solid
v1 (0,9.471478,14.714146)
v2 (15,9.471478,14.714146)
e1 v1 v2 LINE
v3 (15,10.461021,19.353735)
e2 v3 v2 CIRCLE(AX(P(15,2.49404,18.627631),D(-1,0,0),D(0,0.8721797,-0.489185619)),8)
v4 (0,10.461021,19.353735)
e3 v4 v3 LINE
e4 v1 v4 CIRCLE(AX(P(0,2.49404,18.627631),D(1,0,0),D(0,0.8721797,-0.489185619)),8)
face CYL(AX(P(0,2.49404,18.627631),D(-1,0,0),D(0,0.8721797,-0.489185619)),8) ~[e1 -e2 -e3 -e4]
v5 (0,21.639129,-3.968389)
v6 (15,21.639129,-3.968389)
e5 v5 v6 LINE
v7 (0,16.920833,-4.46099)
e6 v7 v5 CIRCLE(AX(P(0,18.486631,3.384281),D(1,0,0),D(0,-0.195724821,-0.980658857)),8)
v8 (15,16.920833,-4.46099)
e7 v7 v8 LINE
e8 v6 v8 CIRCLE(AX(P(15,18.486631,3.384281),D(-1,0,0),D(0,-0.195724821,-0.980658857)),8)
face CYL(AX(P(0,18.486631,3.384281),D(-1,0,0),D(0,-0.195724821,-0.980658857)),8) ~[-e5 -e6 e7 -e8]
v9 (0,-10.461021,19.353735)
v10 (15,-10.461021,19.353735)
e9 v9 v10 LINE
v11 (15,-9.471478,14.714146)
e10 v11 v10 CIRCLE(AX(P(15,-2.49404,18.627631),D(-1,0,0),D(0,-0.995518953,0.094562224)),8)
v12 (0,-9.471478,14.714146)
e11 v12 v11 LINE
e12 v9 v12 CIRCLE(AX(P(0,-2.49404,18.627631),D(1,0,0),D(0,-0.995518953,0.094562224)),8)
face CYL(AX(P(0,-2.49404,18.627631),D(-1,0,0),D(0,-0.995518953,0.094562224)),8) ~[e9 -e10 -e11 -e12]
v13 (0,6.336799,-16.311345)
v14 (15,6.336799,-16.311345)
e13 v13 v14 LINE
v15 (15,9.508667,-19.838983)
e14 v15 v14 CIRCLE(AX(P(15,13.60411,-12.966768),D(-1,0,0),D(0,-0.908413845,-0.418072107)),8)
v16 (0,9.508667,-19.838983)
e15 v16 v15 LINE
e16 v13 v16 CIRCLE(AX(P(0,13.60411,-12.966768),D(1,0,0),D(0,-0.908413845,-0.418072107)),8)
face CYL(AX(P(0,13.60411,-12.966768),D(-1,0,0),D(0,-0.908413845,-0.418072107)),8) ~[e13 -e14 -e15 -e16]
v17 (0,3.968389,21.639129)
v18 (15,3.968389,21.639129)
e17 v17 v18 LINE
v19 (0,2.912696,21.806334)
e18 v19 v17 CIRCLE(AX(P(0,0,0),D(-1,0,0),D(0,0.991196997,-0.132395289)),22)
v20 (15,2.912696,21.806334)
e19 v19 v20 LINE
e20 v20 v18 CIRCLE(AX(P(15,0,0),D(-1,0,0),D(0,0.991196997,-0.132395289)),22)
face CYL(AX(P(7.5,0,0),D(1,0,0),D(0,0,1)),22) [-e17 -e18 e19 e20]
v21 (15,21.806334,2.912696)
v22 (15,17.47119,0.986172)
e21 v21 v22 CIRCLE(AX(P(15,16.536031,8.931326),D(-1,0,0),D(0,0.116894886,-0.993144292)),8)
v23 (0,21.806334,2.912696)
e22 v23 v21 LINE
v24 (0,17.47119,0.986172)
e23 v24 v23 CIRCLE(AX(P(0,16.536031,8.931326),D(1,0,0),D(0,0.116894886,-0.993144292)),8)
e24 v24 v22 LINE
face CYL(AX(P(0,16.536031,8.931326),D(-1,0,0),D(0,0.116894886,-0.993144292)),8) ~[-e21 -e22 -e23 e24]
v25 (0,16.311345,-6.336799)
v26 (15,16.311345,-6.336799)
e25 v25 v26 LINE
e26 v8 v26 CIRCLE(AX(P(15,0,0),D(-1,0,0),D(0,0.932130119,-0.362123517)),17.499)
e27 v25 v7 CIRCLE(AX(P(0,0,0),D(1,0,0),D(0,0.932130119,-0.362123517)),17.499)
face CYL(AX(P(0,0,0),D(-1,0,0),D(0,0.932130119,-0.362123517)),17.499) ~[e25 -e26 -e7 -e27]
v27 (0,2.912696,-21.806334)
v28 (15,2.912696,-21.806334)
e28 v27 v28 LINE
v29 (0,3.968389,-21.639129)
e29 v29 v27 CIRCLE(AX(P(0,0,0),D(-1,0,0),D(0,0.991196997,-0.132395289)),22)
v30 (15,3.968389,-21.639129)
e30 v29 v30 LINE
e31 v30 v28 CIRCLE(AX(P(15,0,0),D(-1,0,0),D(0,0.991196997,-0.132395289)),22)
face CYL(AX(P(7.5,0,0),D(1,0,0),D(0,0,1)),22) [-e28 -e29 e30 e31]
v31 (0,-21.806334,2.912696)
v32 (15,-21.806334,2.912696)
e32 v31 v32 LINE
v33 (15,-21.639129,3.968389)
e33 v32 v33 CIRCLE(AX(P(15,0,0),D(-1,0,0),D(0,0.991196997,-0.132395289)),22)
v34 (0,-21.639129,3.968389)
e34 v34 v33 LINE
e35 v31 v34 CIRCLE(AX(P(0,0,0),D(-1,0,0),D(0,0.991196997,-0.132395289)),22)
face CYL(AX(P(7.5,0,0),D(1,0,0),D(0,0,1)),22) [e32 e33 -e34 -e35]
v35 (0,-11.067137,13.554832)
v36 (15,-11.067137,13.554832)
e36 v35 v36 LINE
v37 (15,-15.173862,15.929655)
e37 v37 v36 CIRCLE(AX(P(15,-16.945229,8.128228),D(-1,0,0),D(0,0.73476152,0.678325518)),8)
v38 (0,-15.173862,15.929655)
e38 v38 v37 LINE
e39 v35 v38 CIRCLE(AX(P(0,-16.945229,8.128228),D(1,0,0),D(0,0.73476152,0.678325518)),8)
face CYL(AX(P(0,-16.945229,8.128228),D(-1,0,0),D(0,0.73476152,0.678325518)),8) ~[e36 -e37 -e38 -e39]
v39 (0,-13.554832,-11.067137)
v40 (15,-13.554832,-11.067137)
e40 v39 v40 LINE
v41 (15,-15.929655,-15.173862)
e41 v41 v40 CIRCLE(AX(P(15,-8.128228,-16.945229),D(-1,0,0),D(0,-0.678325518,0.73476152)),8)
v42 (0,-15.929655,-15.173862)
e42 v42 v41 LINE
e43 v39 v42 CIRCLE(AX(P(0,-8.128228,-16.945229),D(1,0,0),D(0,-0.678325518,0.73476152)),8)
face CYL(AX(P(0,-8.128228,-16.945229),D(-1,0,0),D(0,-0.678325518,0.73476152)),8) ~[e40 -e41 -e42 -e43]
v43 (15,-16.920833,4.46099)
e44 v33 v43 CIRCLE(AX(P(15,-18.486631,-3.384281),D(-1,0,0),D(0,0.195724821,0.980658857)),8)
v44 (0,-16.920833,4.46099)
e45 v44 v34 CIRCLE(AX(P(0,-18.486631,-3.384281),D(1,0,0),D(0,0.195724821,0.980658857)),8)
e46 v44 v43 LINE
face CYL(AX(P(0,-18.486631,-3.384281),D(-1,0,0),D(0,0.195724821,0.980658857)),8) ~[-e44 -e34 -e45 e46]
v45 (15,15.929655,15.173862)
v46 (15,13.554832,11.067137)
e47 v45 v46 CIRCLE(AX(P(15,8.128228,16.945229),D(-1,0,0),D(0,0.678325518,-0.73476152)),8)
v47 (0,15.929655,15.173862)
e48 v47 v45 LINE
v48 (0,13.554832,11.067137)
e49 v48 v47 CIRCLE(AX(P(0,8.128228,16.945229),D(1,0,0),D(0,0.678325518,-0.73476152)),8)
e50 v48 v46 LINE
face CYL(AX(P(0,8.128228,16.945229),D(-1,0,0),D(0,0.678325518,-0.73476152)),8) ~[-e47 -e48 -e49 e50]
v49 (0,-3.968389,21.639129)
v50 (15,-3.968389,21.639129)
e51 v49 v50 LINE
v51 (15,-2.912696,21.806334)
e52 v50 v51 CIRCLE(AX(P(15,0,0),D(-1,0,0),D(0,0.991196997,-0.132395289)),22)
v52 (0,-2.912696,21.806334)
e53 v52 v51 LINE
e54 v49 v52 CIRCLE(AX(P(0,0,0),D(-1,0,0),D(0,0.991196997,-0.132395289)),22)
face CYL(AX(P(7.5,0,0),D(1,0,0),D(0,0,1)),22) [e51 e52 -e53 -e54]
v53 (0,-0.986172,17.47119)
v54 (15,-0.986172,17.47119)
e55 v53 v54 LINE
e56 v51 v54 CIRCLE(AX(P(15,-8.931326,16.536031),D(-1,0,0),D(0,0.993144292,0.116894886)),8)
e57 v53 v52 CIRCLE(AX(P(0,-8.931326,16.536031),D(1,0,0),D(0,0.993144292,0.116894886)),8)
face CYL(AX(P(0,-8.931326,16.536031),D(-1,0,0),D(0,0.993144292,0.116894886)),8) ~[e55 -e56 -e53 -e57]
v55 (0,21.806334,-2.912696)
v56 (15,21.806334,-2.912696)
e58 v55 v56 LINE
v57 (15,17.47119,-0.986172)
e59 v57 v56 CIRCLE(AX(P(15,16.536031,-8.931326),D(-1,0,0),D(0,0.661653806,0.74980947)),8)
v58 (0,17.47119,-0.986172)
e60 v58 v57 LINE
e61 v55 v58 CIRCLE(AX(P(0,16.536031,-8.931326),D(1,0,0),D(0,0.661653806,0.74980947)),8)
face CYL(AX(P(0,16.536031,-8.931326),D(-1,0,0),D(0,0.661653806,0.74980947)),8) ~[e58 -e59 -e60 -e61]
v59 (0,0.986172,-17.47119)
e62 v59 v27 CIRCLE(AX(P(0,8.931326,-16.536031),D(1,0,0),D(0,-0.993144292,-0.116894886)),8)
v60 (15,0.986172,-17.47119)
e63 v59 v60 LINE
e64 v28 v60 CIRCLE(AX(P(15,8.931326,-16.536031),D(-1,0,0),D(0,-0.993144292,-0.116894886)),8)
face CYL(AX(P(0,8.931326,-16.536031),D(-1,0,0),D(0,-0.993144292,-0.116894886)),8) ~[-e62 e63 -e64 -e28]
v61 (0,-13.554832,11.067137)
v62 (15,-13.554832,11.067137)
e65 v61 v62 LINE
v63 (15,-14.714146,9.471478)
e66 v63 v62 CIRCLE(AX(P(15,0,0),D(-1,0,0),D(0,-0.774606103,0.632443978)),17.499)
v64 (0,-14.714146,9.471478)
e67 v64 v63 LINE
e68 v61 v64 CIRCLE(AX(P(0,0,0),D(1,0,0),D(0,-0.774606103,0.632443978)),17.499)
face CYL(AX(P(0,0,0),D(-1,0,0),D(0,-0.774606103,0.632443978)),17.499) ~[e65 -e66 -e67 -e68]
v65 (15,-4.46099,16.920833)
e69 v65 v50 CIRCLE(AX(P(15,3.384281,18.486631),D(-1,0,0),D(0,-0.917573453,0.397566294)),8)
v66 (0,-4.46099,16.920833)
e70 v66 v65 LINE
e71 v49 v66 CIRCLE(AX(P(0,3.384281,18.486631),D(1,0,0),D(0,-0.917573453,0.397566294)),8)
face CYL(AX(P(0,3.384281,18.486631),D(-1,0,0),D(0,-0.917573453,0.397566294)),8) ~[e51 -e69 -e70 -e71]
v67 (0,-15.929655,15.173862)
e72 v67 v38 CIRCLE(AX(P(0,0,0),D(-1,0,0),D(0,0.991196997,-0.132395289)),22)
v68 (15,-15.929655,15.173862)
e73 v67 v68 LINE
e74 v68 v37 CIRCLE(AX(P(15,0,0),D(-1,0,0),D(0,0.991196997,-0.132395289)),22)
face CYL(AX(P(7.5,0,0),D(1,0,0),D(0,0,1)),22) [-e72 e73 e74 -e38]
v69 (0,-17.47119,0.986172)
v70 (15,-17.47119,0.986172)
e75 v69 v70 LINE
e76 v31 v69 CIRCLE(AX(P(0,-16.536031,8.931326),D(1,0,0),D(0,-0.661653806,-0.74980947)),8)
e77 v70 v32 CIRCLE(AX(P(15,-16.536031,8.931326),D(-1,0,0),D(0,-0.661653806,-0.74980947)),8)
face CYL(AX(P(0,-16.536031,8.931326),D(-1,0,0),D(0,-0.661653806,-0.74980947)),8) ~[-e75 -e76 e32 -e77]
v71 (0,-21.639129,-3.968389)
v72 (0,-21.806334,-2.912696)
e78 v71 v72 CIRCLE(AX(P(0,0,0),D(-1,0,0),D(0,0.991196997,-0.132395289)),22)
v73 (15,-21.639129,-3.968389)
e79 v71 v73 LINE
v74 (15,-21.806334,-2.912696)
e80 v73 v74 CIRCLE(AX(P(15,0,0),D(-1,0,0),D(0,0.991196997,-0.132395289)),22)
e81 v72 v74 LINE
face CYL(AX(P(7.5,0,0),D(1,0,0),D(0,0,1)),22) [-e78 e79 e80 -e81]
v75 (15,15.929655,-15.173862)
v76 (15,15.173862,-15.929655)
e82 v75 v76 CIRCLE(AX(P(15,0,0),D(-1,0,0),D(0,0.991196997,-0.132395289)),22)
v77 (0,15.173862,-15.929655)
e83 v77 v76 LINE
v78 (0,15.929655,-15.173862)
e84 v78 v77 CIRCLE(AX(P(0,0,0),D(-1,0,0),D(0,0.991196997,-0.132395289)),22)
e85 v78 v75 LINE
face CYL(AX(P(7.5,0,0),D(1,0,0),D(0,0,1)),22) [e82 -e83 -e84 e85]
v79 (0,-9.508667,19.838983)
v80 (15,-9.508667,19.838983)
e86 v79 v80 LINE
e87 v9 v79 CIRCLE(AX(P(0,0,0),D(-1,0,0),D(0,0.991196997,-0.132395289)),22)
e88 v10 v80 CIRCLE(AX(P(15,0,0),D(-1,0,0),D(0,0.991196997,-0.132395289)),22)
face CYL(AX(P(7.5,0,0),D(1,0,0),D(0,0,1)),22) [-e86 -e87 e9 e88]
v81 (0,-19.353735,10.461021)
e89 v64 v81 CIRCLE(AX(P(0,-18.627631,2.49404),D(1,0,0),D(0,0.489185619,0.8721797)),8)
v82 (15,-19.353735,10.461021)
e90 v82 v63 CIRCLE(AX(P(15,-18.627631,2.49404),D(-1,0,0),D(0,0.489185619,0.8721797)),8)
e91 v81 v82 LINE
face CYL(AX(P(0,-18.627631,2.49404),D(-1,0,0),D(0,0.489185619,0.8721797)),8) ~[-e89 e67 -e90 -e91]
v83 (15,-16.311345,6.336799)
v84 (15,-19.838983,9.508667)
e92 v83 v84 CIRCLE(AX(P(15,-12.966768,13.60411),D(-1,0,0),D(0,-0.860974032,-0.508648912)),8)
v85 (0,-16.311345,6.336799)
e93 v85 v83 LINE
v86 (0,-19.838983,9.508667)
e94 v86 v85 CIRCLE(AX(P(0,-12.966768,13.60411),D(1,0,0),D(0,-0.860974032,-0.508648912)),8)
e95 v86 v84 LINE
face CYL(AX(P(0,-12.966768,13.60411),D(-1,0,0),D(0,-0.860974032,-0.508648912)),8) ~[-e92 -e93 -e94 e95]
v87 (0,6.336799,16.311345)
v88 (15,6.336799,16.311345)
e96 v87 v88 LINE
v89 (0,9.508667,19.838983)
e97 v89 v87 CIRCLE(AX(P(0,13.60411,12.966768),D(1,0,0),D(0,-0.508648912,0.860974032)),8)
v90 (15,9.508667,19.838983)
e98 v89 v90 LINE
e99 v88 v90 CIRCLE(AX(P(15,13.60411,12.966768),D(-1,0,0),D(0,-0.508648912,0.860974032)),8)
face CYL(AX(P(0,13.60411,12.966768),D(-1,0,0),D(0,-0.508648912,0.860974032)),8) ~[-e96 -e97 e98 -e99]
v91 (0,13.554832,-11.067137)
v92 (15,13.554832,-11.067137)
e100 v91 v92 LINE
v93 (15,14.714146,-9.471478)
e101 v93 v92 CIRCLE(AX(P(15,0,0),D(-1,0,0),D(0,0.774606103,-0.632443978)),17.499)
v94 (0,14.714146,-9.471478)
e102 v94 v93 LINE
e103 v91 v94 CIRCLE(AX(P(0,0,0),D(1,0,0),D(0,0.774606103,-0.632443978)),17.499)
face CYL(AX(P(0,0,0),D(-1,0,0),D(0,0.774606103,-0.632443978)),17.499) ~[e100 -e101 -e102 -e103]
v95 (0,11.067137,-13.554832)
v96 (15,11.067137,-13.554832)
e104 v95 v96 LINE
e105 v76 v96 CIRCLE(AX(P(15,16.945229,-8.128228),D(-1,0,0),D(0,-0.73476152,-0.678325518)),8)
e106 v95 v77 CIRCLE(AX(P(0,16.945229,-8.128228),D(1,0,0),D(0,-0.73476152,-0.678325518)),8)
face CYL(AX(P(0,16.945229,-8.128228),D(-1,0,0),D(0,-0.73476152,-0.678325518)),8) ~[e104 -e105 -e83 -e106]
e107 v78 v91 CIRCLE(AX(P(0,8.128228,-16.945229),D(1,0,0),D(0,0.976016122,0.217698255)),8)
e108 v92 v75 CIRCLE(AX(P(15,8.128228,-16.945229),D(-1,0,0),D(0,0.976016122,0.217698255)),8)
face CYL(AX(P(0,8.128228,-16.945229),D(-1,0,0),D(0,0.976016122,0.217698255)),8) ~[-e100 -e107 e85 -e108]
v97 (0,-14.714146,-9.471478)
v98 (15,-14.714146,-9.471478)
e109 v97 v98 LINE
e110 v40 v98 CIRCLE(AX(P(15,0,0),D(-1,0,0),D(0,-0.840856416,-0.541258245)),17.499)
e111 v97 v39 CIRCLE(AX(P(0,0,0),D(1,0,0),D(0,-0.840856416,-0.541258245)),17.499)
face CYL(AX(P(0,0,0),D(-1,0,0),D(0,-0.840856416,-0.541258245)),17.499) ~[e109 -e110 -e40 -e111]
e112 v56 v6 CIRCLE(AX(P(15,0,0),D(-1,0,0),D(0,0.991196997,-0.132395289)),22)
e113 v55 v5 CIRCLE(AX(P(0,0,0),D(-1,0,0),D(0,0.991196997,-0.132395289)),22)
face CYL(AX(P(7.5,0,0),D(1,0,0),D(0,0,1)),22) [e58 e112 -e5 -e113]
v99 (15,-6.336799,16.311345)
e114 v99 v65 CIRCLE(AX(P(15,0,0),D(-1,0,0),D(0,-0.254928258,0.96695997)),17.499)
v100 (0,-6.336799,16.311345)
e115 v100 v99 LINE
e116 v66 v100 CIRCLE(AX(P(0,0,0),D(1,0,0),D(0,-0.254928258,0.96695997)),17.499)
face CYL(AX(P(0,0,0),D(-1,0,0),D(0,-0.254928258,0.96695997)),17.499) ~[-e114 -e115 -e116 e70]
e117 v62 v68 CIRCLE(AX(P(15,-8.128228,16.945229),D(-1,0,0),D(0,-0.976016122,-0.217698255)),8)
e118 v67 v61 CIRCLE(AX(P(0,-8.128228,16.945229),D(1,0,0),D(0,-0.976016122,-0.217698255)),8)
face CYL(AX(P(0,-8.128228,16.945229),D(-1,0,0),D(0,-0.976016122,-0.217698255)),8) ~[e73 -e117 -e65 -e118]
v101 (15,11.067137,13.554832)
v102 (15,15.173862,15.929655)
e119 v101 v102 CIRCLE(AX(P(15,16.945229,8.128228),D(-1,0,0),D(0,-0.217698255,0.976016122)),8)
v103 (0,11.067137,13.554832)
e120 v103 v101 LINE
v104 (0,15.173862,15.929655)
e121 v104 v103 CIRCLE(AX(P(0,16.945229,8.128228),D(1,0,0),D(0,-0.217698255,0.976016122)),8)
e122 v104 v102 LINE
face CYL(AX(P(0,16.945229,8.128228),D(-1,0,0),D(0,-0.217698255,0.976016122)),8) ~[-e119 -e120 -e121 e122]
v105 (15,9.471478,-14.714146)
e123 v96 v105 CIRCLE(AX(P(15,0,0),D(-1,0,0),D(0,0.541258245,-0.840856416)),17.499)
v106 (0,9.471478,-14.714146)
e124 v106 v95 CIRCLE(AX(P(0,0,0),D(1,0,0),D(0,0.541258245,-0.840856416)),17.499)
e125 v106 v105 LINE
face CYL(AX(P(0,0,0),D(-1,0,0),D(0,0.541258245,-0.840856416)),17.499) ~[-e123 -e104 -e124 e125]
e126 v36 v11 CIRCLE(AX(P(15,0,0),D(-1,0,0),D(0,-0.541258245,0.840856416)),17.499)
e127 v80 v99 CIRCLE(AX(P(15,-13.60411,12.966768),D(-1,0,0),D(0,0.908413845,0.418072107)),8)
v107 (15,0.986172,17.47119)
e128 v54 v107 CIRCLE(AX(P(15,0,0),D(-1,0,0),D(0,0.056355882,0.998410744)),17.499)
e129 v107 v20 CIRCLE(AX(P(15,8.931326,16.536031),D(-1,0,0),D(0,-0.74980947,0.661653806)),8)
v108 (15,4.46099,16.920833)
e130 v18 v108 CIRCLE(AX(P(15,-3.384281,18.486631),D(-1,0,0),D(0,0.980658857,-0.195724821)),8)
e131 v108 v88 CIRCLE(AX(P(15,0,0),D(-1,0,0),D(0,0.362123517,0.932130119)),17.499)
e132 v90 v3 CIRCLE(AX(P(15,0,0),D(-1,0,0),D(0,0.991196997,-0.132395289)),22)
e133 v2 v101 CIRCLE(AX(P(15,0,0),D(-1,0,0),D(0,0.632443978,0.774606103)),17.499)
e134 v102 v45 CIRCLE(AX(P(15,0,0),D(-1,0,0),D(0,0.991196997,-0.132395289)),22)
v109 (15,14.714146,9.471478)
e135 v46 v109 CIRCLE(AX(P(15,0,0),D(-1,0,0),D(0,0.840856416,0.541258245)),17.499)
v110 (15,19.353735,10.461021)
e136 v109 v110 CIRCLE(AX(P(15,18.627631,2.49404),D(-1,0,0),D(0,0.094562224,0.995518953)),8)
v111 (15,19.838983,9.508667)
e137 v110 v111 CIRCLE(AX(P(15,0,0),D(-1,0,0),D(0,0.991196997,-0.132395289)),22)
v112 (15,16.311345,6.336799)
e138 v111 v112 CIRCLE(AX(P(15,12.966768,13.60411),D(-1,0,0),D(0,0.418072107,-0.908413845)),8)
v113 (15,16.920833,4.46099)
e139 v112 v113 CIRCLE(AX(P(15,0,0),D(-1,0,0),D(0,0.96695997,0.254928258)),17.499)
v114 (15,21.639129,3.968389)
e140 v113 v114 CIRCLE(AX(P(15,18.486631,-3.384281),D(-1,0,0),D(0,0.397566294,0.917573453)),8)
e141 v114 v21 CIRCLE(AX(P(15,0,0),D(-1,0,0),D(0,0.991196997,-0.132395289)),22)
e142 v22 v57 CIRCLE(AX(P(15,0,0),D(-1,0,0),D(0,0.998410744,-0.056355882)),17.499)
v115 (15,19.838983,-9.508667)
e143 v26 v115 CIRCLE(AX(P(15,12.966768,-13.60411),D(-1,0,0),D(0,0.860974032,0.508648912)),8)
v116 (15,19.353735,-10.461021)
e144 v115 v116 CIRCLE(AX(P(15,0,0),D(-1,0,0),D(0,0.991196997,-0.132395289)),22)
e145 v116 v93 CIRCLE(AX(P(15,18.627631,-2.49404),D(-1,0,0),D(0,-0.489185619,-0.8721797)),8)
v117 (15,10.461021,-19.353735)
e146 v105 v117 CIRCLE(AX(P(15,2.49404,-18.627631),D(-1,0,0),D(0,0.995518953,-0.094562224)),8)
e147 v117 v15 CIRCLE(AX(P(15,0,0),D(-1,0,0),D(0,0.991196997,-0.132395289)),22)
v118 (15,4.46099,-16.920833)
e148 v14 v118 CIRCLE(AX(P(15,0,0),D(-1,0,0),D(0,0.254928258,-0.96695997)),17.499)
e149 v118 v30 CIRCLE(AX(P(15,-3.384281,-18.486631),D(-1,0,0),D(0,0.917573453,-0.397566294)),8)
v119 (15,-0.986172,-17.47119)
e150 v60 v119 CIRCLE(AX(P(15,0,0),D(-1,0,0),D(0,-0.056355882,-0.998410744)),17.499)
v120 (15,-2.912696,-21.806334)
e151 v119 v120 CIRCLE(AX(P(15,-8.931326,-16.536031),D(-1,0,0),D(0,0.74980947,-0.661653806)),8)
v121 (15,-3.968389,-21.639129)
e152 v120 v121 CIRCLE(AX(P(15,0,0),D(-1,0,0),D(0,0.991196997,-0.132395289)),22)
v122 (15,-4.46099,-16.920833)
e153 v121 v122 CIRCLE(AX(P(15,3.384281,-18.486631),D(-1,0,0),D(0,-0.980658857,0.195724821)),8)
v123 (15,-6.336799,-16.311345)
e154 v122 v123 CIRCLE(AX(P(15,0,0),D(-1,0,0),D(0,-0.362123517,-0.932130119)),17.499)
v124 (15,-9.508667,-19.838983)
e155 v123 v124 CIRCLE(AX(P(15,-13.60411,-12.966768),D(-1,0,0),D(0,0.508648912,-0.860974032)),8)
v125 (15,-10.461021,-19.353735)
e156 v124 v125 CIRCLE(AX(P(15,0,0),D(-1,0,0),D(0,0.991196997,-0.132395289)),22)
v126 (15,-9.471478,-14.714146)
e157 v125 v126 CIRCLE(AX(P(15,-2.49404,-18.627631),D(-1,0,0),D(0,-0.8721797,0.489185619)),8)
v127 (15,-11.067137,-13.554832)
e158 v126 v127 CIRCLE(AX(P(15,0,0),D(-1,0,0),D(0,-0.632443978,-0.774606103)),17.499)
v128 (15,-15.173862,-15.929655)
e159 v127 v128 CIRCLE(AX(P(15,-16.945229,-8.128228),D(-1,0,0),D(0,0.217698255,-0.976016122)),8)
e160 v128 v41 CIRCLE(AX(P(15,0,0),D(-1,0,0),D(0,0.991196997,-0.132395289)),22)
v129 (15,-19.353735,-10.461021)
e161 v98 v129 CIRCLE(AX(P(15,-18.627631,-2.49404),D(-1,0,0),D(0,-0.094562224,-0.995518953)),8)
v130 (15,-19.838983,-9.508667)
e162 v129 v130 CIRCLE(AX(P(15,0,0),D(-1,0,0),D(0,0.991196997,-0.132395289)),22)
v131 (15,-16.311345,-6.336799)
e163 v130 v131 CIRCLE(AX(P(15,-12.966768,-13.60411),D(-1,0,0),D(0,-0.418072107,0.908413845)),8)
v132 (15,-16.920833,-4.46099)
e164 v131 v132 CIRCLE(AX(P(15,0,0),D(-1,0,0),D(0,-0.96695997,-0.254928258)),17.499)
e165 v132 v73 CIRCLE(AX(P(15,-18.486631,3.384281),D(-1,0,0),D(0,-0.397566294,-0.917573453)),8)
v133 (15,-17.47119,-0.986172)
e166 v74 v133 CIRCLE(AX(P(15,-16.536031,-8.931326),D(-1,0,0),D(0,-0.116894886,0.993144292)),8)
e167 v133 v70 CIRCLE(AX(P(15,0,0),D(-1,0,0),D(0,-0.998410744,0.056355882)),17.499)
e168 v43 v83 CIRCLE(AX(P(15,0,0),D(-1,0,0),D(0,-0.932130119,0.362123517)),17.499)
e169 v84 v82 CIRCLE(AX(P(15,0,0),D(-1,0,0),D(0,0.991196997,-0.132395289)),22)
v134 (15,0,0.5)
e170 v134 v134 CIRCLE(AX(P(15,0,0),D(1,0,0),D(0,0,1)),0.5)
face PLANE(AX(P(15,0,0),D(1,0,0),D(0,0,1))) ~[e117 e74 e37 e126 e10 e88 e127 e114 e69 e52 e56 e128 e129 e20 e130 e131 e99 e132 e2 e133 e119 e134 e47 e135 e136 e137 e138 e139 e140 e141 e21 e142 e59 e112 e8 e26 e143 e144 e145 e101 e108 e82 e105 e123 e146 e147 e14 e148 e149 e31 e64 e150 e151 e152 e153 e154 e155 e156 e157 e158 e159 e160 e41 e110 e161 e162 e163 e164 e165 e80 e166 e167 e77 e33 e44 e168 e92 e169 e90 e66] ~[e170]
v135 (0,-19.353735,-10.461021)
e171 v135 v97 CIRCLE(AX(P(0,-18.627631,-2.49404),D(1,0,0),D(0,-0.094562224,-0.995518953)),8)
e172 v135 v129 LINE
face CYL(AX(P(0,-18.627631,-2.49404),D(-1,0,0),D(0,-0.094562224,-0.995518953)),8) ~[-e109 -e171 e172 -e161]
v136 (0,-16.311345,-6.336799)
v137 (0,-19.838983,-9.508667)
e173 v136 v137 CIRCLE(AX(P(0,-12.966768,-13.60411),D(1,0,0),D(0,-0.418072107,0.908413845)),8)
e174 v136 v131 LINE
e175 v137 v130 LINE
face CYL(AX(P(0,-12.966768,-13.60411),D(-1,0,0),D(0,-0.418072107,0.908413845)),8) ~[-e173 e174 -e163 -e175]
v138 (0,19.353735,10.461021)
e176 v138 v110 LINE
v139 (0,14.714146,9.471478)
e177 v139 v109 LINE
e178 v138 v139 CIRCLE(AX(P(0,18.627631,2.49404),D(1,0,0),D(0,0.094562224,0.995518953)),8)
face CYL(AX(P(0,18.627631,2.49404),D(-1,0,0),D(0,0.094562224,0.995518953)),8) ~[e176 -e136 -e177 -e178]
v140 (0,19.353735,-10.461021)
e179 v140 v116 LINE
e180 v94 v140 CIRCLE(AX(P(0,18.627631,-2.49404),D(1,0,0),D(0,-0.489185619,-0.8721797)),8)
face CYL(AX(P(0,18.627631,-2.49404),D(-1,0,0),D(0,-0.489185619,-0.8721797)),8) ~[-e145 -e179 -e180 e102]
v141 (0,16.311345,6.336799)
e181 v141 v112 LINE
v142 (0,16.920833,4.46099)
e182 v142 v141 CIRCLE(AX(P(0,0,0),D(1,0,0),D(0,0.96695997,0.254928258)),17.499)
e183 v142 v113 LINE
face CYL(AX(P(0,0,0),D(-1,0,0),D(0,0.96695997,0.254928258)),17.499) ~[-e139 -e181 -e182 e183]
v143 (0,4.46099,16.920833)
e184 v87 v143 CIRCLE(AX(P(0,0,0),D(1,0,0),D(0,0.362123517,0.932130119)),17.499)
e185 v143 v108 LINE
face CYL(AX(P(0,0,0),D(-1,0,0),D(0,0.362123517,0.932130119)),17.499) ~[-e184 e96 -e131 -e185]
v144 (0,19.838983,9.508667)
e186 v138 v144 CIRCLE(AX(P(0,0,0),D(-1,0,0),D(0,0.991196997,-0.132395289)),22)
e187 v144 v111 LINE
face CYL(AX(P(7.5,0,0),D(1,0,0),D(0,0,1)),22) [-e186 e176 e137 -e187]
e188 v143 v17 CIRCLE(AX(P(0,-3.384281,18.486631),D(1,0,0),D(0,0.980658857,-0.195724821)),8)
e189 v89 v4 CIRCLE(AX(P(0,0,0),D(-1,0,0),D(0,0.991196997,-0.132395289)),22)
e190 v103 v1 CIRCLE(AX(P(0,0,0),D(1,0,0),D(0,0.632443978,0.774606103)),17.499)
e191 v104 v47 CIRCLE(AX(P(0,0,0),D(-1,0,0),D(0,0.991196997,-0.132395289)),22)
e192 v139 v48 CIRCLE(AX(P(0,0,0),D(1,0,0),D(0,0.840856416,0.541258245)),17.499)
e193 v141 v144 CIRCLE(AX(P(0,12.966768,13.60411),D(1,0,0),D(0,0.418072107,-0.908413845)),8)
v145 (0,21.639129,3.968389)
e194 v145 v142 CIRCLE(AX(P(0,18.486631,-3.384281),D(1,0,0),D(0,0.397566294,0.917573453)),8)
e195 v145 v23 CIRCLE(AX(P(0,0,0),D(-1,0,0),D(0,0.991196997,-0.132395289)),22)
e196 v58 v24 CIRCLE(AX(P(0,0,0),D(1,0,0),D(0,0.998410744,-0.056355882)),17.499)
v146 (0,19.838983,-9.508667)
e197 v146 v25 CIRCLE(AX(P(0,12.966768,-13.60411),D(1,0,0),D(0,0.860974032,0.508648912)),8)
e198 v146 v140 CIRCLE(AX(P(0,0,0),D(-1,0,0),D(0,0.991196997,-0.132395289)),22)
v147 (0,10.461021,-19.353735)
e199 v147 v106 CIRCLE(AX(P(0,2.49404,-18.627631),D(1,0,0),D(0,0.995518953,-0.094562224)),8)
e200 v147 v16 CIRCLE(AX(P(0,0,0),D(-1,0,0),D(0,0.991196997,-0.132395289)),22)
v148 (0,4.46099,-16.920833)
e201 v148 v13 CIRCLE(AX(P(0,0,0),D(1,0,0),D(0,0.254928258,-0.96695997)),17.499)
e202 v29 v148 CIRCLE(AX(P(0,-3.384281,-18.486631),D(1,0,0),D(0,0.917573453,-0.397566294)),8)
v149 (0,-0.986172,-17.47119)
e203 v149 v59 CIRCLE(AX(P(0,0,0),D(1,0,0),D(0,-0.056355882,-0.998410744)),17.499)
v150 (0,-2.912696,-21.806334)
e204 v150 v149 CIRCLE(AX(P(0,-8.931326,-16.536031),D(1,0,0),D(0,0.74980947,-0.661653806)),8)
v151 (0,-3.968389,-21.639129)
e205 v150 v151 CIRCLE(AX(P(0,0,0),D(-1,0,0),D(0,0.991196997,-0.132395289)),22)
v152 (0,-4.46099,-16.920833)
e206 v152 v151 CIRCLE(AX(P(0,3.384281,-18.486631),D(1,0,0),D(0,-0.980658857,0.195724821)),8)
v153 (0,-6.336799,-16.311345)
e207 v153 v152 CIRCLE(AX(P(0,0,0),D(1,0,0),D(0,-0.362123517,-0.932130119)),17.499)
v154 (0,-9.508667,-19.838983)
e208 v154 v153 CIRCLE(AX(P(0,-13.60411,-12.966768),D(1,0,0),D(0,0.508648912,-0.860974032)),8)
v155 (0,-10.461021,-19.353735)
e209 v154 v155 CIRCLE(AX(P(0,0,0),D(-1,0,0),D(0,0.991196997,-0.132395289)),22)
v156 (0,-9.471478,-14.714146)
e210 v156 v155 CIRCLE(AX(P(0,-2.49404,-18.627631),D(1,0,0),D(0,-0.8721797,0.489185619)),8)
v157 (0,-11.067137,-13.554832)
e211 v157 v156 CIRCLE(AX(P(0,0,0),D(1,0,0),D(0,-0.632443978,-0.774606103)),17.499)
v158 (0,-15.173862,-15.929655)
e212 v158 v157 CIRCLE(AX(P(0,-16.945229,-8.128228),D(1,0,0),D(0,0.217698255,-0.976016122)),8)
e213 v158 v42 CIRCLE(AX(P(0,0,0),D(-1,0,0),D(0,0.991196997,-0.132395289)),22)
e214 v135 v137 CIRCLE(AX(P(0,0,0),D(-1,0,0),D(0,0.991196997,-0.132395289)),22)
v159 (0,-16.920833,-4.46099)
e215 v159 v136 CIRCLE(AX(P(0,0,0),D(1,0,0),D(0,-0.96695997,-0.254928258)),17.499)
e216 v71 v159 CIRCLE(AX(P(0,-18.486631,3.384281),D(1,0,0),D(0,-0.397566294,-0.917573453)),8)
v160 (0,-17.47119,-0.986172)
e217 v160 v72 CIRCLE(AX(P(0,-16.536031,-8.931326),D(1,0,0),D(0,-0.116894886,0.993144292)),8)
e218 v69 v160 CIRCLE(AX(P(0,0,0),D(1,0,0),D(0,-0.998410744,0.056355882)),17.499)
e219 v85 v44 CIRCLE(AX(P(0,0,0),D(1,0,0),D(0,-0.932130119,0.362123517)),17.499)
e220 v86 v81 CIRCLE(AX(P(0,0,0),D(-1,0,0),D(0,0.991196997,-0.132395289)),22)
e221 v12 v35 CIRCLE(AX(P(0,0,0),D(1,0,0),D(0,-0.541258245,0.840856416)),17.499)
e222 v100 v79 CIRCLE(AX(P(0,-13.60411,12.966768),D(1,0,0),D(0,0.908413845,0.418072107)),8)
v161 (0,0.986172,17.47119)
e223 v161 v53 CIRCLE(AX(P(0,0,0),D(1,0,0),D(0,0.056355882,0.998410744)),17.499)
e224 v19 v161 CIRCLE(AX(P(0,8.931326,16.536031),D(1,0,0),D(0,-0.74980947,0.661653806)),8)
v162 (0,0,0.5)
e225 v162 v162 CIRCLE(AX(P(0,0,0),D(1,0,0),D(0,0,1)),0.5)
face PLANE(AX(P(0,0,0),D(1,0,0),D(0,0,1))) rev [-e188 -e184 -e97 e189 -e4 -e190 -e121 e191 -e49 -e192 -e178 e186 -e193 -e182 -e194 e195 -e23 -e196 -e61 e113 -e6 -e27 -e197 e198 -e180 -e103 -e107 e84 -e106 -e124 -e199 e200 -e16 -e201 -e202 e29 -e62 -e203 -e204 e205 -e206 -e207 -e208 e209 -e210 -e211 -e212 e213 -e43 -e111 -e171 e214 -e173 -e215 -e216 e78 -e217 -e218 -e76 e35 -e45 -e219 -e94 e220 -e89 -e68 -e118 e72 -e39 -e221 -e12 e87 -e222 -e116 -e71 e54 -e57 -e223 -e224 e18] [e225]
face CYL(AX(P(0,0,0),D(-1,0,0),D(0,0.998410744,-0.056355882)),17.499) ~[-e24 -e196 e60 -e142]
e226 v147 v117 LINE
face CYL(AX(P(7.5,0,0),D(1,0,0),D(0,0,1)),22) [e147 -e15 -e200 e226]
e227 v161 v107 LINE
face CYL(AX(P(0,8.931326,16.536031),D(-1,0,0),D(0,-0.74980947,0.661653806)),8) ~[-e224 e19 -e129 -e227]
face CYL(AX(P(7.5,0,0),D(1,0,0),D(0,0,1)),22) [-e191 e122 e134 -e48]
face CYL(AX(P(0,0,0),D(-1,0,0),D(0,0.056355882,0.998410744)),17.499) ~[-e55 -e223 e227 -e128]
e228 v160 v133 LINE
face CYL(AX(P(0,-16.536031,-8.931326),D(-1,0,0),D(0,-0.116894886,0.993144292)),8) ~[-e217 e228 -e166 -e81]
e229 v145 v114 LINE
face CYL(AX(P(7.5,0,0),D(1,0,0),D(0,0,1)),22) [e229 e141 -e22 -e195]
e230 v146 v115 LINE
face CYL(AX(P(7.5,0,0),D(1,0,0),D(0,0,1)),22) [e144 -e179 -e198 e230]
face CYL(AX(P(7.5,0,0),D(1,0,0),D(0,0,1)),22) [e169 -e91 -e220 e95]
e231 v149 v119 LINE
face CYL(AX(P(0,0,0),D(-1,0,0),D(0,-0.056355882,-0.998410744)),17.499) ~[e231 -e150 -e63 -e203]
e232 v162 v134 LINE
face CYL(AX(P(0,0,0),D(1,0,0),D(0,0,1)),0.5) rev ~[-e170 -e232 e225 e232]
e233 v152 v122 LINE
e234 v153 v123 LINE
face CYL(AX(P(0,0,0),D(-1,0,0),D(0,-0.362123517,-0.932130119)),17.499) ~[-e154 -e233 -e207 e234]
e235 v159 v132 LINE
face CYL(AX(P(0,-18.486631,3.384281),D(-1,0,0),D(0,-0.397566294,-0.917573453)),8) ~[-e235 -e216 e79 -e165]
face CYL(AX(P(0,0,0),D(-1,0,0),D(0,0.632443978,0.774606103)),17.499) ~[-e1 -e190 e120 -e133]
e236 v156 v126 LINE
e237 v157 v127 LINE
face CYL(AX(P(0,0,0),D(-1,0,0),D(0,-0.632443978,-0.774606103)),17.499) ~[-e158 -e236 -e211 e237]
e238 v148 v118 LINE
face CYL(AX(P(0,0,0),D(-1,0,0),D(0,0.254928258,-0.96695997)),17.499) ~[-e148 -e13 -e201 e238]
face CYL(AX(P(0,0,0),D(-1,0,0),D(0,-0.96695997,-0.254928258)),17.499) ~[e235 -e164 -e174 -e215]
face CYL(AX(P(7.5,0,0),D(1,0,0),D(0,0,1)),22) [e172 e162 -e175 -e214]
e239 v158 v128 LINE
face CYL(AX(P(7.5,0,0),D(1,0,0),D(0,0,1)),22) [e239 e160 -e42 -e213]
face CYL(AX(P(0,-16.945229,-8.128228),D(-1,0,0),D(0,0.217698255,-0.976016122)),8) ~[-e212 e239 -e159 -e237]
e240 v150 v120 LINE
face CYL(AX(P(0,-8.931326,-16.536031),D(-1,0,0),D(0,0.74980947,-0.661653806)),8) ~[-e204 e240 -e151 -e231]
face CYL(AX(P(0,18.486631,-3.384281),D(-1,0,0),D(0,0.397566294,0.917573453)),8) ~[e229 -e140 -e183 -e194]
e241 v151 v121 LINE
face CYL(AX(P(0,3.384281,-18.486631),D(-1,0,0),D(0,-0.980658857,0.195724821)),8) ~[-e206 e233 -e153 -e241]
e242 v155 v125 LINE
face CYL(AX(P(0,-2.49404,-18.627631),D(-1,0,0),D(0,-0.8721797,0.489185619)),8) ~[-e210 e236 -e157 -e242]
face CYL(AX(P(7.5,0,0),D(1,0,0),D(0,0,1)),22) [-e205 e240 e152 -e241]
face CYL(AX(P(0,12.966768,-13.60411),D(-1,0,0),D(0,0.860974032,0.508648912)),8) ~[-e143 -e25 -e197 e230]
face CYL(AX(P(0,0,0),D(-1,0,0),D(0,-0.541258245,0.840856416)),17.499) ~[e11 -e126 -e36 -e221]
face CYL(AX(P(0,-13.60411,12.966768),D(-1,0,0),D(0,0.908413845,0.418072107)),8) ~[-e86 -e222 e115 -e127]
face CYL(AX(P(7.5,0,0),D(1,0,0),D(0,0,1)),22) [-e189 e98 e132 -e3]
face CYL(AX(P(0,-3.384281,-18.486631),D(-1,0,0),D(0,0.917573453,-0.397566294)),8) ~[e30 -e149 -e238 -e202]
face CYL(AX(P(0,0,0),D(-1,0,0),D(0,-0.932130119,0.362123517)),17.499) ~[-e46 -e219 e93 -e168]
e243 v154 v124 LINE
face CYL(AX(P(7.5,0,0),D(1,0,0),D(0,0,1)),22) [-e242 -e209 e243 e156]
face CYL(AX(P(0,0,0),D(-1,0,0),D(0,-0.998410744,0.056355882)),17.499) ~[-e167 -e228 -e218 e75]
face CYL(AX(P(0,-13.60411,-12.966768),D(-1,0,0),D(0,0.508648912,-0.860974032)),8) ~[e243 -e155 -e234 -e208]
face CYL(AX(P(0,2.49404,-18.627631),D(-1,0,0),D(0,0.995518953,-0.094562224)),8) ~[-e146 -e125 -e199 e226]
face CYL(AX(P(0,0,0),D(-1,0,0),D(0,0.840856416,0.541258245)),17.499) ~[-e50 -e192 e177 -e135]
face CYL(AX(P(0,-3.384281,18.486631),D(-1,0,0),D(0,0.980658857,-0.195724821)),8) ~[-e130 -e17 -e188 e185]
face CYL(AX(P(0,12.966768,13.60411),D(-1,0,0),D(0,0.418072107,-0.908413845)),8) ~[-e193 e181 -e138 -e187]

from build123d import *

# Parameters (mm, degrees)
BASPROSKE_W     = 15
BASPROSKE_H     = 22
TOOTHCUT_DEPTH  = 35.539832078
TEETHCUTS_COUNT = 20
TEETHCUTS_ANGLE = 342
BORSKE_R        = 0.5
BORE_DEPTH      = 50.0000508


with BuildPart() as part:
    # BasProSke → Base-Revolve (revolve)
    with BuildSketch(Plane(origin=(0, 0, 0), x_dir=(1, 0, 0), z_dir=(0, 1, 0)), mode=Mode.PRIVATE) as base_revolve_sk:
        with Locations((7.5, 11)):
            Rectangle(BASPROSKE_W, BASPROSKE_H)
    revolve(base_revolve_sk.sketch.rotate(Axis((-10, 0, 0), (1, 0, 0)), 180), axis=Axis((-10, 0, 0), (1, 0, 0)))

    # TooCutSke → ToothCut (cut, through all)
    with BuildSketch(Plane(origin=(0, 0, 0), x_dir=(0, 0, -1), z_dir=(1, 0, 0))):
        with BuildLine():
            ThreePointArc((0.986171591, 17.471189616), (0, 17.499), (-0.986171591, 17.471189616))
            ThreePointArc((-0.986171591, 17.471189616), (-1.626916196, 19.798789858), (-2.932850173, 21.829260982))
            ThreePointArc((-2.932850173, 21.829260982), (0, 22.0254), (2.932850173, 21.829260982))
            ThreePointArc((2.932850173, 21.829260982), (1.626916196, 19.798789858), (0.986171591, 17.471189616))
        make_face()
    toothcut = extrude(amount=TOOTHCUT_DEPTH, mode=Mode.SUBTRACT)

    # TeethCuts: ToothCut ×20 about axis
    teethcuts_axis = Axis((-10, 0, 0), (1, 0, 0))
    for i in range(1, TEETHCUTS_COUNT):
        add(toothcut.rotate(teethcuts_axis, i * TEETHCUTS_ANGLE / (TEETHCUTS_COUNT - 1)), mode=Mode.SUBTRACT)

    # BorSke → Bore (cut, symmetric)
    with BuildSketch(Plane(origin=(0, 0, 0), x_dir=(0, 0, -1), z_dir=(1, 0, 0))):
        with Locations(Location((0, 0, 0), (0, 0, 180))):
            Circle(BORSKE_R)
    extrude(amount=BORE_DEPTH, both=True, mode=Mode.SUBTRACT)


solid = part.part
